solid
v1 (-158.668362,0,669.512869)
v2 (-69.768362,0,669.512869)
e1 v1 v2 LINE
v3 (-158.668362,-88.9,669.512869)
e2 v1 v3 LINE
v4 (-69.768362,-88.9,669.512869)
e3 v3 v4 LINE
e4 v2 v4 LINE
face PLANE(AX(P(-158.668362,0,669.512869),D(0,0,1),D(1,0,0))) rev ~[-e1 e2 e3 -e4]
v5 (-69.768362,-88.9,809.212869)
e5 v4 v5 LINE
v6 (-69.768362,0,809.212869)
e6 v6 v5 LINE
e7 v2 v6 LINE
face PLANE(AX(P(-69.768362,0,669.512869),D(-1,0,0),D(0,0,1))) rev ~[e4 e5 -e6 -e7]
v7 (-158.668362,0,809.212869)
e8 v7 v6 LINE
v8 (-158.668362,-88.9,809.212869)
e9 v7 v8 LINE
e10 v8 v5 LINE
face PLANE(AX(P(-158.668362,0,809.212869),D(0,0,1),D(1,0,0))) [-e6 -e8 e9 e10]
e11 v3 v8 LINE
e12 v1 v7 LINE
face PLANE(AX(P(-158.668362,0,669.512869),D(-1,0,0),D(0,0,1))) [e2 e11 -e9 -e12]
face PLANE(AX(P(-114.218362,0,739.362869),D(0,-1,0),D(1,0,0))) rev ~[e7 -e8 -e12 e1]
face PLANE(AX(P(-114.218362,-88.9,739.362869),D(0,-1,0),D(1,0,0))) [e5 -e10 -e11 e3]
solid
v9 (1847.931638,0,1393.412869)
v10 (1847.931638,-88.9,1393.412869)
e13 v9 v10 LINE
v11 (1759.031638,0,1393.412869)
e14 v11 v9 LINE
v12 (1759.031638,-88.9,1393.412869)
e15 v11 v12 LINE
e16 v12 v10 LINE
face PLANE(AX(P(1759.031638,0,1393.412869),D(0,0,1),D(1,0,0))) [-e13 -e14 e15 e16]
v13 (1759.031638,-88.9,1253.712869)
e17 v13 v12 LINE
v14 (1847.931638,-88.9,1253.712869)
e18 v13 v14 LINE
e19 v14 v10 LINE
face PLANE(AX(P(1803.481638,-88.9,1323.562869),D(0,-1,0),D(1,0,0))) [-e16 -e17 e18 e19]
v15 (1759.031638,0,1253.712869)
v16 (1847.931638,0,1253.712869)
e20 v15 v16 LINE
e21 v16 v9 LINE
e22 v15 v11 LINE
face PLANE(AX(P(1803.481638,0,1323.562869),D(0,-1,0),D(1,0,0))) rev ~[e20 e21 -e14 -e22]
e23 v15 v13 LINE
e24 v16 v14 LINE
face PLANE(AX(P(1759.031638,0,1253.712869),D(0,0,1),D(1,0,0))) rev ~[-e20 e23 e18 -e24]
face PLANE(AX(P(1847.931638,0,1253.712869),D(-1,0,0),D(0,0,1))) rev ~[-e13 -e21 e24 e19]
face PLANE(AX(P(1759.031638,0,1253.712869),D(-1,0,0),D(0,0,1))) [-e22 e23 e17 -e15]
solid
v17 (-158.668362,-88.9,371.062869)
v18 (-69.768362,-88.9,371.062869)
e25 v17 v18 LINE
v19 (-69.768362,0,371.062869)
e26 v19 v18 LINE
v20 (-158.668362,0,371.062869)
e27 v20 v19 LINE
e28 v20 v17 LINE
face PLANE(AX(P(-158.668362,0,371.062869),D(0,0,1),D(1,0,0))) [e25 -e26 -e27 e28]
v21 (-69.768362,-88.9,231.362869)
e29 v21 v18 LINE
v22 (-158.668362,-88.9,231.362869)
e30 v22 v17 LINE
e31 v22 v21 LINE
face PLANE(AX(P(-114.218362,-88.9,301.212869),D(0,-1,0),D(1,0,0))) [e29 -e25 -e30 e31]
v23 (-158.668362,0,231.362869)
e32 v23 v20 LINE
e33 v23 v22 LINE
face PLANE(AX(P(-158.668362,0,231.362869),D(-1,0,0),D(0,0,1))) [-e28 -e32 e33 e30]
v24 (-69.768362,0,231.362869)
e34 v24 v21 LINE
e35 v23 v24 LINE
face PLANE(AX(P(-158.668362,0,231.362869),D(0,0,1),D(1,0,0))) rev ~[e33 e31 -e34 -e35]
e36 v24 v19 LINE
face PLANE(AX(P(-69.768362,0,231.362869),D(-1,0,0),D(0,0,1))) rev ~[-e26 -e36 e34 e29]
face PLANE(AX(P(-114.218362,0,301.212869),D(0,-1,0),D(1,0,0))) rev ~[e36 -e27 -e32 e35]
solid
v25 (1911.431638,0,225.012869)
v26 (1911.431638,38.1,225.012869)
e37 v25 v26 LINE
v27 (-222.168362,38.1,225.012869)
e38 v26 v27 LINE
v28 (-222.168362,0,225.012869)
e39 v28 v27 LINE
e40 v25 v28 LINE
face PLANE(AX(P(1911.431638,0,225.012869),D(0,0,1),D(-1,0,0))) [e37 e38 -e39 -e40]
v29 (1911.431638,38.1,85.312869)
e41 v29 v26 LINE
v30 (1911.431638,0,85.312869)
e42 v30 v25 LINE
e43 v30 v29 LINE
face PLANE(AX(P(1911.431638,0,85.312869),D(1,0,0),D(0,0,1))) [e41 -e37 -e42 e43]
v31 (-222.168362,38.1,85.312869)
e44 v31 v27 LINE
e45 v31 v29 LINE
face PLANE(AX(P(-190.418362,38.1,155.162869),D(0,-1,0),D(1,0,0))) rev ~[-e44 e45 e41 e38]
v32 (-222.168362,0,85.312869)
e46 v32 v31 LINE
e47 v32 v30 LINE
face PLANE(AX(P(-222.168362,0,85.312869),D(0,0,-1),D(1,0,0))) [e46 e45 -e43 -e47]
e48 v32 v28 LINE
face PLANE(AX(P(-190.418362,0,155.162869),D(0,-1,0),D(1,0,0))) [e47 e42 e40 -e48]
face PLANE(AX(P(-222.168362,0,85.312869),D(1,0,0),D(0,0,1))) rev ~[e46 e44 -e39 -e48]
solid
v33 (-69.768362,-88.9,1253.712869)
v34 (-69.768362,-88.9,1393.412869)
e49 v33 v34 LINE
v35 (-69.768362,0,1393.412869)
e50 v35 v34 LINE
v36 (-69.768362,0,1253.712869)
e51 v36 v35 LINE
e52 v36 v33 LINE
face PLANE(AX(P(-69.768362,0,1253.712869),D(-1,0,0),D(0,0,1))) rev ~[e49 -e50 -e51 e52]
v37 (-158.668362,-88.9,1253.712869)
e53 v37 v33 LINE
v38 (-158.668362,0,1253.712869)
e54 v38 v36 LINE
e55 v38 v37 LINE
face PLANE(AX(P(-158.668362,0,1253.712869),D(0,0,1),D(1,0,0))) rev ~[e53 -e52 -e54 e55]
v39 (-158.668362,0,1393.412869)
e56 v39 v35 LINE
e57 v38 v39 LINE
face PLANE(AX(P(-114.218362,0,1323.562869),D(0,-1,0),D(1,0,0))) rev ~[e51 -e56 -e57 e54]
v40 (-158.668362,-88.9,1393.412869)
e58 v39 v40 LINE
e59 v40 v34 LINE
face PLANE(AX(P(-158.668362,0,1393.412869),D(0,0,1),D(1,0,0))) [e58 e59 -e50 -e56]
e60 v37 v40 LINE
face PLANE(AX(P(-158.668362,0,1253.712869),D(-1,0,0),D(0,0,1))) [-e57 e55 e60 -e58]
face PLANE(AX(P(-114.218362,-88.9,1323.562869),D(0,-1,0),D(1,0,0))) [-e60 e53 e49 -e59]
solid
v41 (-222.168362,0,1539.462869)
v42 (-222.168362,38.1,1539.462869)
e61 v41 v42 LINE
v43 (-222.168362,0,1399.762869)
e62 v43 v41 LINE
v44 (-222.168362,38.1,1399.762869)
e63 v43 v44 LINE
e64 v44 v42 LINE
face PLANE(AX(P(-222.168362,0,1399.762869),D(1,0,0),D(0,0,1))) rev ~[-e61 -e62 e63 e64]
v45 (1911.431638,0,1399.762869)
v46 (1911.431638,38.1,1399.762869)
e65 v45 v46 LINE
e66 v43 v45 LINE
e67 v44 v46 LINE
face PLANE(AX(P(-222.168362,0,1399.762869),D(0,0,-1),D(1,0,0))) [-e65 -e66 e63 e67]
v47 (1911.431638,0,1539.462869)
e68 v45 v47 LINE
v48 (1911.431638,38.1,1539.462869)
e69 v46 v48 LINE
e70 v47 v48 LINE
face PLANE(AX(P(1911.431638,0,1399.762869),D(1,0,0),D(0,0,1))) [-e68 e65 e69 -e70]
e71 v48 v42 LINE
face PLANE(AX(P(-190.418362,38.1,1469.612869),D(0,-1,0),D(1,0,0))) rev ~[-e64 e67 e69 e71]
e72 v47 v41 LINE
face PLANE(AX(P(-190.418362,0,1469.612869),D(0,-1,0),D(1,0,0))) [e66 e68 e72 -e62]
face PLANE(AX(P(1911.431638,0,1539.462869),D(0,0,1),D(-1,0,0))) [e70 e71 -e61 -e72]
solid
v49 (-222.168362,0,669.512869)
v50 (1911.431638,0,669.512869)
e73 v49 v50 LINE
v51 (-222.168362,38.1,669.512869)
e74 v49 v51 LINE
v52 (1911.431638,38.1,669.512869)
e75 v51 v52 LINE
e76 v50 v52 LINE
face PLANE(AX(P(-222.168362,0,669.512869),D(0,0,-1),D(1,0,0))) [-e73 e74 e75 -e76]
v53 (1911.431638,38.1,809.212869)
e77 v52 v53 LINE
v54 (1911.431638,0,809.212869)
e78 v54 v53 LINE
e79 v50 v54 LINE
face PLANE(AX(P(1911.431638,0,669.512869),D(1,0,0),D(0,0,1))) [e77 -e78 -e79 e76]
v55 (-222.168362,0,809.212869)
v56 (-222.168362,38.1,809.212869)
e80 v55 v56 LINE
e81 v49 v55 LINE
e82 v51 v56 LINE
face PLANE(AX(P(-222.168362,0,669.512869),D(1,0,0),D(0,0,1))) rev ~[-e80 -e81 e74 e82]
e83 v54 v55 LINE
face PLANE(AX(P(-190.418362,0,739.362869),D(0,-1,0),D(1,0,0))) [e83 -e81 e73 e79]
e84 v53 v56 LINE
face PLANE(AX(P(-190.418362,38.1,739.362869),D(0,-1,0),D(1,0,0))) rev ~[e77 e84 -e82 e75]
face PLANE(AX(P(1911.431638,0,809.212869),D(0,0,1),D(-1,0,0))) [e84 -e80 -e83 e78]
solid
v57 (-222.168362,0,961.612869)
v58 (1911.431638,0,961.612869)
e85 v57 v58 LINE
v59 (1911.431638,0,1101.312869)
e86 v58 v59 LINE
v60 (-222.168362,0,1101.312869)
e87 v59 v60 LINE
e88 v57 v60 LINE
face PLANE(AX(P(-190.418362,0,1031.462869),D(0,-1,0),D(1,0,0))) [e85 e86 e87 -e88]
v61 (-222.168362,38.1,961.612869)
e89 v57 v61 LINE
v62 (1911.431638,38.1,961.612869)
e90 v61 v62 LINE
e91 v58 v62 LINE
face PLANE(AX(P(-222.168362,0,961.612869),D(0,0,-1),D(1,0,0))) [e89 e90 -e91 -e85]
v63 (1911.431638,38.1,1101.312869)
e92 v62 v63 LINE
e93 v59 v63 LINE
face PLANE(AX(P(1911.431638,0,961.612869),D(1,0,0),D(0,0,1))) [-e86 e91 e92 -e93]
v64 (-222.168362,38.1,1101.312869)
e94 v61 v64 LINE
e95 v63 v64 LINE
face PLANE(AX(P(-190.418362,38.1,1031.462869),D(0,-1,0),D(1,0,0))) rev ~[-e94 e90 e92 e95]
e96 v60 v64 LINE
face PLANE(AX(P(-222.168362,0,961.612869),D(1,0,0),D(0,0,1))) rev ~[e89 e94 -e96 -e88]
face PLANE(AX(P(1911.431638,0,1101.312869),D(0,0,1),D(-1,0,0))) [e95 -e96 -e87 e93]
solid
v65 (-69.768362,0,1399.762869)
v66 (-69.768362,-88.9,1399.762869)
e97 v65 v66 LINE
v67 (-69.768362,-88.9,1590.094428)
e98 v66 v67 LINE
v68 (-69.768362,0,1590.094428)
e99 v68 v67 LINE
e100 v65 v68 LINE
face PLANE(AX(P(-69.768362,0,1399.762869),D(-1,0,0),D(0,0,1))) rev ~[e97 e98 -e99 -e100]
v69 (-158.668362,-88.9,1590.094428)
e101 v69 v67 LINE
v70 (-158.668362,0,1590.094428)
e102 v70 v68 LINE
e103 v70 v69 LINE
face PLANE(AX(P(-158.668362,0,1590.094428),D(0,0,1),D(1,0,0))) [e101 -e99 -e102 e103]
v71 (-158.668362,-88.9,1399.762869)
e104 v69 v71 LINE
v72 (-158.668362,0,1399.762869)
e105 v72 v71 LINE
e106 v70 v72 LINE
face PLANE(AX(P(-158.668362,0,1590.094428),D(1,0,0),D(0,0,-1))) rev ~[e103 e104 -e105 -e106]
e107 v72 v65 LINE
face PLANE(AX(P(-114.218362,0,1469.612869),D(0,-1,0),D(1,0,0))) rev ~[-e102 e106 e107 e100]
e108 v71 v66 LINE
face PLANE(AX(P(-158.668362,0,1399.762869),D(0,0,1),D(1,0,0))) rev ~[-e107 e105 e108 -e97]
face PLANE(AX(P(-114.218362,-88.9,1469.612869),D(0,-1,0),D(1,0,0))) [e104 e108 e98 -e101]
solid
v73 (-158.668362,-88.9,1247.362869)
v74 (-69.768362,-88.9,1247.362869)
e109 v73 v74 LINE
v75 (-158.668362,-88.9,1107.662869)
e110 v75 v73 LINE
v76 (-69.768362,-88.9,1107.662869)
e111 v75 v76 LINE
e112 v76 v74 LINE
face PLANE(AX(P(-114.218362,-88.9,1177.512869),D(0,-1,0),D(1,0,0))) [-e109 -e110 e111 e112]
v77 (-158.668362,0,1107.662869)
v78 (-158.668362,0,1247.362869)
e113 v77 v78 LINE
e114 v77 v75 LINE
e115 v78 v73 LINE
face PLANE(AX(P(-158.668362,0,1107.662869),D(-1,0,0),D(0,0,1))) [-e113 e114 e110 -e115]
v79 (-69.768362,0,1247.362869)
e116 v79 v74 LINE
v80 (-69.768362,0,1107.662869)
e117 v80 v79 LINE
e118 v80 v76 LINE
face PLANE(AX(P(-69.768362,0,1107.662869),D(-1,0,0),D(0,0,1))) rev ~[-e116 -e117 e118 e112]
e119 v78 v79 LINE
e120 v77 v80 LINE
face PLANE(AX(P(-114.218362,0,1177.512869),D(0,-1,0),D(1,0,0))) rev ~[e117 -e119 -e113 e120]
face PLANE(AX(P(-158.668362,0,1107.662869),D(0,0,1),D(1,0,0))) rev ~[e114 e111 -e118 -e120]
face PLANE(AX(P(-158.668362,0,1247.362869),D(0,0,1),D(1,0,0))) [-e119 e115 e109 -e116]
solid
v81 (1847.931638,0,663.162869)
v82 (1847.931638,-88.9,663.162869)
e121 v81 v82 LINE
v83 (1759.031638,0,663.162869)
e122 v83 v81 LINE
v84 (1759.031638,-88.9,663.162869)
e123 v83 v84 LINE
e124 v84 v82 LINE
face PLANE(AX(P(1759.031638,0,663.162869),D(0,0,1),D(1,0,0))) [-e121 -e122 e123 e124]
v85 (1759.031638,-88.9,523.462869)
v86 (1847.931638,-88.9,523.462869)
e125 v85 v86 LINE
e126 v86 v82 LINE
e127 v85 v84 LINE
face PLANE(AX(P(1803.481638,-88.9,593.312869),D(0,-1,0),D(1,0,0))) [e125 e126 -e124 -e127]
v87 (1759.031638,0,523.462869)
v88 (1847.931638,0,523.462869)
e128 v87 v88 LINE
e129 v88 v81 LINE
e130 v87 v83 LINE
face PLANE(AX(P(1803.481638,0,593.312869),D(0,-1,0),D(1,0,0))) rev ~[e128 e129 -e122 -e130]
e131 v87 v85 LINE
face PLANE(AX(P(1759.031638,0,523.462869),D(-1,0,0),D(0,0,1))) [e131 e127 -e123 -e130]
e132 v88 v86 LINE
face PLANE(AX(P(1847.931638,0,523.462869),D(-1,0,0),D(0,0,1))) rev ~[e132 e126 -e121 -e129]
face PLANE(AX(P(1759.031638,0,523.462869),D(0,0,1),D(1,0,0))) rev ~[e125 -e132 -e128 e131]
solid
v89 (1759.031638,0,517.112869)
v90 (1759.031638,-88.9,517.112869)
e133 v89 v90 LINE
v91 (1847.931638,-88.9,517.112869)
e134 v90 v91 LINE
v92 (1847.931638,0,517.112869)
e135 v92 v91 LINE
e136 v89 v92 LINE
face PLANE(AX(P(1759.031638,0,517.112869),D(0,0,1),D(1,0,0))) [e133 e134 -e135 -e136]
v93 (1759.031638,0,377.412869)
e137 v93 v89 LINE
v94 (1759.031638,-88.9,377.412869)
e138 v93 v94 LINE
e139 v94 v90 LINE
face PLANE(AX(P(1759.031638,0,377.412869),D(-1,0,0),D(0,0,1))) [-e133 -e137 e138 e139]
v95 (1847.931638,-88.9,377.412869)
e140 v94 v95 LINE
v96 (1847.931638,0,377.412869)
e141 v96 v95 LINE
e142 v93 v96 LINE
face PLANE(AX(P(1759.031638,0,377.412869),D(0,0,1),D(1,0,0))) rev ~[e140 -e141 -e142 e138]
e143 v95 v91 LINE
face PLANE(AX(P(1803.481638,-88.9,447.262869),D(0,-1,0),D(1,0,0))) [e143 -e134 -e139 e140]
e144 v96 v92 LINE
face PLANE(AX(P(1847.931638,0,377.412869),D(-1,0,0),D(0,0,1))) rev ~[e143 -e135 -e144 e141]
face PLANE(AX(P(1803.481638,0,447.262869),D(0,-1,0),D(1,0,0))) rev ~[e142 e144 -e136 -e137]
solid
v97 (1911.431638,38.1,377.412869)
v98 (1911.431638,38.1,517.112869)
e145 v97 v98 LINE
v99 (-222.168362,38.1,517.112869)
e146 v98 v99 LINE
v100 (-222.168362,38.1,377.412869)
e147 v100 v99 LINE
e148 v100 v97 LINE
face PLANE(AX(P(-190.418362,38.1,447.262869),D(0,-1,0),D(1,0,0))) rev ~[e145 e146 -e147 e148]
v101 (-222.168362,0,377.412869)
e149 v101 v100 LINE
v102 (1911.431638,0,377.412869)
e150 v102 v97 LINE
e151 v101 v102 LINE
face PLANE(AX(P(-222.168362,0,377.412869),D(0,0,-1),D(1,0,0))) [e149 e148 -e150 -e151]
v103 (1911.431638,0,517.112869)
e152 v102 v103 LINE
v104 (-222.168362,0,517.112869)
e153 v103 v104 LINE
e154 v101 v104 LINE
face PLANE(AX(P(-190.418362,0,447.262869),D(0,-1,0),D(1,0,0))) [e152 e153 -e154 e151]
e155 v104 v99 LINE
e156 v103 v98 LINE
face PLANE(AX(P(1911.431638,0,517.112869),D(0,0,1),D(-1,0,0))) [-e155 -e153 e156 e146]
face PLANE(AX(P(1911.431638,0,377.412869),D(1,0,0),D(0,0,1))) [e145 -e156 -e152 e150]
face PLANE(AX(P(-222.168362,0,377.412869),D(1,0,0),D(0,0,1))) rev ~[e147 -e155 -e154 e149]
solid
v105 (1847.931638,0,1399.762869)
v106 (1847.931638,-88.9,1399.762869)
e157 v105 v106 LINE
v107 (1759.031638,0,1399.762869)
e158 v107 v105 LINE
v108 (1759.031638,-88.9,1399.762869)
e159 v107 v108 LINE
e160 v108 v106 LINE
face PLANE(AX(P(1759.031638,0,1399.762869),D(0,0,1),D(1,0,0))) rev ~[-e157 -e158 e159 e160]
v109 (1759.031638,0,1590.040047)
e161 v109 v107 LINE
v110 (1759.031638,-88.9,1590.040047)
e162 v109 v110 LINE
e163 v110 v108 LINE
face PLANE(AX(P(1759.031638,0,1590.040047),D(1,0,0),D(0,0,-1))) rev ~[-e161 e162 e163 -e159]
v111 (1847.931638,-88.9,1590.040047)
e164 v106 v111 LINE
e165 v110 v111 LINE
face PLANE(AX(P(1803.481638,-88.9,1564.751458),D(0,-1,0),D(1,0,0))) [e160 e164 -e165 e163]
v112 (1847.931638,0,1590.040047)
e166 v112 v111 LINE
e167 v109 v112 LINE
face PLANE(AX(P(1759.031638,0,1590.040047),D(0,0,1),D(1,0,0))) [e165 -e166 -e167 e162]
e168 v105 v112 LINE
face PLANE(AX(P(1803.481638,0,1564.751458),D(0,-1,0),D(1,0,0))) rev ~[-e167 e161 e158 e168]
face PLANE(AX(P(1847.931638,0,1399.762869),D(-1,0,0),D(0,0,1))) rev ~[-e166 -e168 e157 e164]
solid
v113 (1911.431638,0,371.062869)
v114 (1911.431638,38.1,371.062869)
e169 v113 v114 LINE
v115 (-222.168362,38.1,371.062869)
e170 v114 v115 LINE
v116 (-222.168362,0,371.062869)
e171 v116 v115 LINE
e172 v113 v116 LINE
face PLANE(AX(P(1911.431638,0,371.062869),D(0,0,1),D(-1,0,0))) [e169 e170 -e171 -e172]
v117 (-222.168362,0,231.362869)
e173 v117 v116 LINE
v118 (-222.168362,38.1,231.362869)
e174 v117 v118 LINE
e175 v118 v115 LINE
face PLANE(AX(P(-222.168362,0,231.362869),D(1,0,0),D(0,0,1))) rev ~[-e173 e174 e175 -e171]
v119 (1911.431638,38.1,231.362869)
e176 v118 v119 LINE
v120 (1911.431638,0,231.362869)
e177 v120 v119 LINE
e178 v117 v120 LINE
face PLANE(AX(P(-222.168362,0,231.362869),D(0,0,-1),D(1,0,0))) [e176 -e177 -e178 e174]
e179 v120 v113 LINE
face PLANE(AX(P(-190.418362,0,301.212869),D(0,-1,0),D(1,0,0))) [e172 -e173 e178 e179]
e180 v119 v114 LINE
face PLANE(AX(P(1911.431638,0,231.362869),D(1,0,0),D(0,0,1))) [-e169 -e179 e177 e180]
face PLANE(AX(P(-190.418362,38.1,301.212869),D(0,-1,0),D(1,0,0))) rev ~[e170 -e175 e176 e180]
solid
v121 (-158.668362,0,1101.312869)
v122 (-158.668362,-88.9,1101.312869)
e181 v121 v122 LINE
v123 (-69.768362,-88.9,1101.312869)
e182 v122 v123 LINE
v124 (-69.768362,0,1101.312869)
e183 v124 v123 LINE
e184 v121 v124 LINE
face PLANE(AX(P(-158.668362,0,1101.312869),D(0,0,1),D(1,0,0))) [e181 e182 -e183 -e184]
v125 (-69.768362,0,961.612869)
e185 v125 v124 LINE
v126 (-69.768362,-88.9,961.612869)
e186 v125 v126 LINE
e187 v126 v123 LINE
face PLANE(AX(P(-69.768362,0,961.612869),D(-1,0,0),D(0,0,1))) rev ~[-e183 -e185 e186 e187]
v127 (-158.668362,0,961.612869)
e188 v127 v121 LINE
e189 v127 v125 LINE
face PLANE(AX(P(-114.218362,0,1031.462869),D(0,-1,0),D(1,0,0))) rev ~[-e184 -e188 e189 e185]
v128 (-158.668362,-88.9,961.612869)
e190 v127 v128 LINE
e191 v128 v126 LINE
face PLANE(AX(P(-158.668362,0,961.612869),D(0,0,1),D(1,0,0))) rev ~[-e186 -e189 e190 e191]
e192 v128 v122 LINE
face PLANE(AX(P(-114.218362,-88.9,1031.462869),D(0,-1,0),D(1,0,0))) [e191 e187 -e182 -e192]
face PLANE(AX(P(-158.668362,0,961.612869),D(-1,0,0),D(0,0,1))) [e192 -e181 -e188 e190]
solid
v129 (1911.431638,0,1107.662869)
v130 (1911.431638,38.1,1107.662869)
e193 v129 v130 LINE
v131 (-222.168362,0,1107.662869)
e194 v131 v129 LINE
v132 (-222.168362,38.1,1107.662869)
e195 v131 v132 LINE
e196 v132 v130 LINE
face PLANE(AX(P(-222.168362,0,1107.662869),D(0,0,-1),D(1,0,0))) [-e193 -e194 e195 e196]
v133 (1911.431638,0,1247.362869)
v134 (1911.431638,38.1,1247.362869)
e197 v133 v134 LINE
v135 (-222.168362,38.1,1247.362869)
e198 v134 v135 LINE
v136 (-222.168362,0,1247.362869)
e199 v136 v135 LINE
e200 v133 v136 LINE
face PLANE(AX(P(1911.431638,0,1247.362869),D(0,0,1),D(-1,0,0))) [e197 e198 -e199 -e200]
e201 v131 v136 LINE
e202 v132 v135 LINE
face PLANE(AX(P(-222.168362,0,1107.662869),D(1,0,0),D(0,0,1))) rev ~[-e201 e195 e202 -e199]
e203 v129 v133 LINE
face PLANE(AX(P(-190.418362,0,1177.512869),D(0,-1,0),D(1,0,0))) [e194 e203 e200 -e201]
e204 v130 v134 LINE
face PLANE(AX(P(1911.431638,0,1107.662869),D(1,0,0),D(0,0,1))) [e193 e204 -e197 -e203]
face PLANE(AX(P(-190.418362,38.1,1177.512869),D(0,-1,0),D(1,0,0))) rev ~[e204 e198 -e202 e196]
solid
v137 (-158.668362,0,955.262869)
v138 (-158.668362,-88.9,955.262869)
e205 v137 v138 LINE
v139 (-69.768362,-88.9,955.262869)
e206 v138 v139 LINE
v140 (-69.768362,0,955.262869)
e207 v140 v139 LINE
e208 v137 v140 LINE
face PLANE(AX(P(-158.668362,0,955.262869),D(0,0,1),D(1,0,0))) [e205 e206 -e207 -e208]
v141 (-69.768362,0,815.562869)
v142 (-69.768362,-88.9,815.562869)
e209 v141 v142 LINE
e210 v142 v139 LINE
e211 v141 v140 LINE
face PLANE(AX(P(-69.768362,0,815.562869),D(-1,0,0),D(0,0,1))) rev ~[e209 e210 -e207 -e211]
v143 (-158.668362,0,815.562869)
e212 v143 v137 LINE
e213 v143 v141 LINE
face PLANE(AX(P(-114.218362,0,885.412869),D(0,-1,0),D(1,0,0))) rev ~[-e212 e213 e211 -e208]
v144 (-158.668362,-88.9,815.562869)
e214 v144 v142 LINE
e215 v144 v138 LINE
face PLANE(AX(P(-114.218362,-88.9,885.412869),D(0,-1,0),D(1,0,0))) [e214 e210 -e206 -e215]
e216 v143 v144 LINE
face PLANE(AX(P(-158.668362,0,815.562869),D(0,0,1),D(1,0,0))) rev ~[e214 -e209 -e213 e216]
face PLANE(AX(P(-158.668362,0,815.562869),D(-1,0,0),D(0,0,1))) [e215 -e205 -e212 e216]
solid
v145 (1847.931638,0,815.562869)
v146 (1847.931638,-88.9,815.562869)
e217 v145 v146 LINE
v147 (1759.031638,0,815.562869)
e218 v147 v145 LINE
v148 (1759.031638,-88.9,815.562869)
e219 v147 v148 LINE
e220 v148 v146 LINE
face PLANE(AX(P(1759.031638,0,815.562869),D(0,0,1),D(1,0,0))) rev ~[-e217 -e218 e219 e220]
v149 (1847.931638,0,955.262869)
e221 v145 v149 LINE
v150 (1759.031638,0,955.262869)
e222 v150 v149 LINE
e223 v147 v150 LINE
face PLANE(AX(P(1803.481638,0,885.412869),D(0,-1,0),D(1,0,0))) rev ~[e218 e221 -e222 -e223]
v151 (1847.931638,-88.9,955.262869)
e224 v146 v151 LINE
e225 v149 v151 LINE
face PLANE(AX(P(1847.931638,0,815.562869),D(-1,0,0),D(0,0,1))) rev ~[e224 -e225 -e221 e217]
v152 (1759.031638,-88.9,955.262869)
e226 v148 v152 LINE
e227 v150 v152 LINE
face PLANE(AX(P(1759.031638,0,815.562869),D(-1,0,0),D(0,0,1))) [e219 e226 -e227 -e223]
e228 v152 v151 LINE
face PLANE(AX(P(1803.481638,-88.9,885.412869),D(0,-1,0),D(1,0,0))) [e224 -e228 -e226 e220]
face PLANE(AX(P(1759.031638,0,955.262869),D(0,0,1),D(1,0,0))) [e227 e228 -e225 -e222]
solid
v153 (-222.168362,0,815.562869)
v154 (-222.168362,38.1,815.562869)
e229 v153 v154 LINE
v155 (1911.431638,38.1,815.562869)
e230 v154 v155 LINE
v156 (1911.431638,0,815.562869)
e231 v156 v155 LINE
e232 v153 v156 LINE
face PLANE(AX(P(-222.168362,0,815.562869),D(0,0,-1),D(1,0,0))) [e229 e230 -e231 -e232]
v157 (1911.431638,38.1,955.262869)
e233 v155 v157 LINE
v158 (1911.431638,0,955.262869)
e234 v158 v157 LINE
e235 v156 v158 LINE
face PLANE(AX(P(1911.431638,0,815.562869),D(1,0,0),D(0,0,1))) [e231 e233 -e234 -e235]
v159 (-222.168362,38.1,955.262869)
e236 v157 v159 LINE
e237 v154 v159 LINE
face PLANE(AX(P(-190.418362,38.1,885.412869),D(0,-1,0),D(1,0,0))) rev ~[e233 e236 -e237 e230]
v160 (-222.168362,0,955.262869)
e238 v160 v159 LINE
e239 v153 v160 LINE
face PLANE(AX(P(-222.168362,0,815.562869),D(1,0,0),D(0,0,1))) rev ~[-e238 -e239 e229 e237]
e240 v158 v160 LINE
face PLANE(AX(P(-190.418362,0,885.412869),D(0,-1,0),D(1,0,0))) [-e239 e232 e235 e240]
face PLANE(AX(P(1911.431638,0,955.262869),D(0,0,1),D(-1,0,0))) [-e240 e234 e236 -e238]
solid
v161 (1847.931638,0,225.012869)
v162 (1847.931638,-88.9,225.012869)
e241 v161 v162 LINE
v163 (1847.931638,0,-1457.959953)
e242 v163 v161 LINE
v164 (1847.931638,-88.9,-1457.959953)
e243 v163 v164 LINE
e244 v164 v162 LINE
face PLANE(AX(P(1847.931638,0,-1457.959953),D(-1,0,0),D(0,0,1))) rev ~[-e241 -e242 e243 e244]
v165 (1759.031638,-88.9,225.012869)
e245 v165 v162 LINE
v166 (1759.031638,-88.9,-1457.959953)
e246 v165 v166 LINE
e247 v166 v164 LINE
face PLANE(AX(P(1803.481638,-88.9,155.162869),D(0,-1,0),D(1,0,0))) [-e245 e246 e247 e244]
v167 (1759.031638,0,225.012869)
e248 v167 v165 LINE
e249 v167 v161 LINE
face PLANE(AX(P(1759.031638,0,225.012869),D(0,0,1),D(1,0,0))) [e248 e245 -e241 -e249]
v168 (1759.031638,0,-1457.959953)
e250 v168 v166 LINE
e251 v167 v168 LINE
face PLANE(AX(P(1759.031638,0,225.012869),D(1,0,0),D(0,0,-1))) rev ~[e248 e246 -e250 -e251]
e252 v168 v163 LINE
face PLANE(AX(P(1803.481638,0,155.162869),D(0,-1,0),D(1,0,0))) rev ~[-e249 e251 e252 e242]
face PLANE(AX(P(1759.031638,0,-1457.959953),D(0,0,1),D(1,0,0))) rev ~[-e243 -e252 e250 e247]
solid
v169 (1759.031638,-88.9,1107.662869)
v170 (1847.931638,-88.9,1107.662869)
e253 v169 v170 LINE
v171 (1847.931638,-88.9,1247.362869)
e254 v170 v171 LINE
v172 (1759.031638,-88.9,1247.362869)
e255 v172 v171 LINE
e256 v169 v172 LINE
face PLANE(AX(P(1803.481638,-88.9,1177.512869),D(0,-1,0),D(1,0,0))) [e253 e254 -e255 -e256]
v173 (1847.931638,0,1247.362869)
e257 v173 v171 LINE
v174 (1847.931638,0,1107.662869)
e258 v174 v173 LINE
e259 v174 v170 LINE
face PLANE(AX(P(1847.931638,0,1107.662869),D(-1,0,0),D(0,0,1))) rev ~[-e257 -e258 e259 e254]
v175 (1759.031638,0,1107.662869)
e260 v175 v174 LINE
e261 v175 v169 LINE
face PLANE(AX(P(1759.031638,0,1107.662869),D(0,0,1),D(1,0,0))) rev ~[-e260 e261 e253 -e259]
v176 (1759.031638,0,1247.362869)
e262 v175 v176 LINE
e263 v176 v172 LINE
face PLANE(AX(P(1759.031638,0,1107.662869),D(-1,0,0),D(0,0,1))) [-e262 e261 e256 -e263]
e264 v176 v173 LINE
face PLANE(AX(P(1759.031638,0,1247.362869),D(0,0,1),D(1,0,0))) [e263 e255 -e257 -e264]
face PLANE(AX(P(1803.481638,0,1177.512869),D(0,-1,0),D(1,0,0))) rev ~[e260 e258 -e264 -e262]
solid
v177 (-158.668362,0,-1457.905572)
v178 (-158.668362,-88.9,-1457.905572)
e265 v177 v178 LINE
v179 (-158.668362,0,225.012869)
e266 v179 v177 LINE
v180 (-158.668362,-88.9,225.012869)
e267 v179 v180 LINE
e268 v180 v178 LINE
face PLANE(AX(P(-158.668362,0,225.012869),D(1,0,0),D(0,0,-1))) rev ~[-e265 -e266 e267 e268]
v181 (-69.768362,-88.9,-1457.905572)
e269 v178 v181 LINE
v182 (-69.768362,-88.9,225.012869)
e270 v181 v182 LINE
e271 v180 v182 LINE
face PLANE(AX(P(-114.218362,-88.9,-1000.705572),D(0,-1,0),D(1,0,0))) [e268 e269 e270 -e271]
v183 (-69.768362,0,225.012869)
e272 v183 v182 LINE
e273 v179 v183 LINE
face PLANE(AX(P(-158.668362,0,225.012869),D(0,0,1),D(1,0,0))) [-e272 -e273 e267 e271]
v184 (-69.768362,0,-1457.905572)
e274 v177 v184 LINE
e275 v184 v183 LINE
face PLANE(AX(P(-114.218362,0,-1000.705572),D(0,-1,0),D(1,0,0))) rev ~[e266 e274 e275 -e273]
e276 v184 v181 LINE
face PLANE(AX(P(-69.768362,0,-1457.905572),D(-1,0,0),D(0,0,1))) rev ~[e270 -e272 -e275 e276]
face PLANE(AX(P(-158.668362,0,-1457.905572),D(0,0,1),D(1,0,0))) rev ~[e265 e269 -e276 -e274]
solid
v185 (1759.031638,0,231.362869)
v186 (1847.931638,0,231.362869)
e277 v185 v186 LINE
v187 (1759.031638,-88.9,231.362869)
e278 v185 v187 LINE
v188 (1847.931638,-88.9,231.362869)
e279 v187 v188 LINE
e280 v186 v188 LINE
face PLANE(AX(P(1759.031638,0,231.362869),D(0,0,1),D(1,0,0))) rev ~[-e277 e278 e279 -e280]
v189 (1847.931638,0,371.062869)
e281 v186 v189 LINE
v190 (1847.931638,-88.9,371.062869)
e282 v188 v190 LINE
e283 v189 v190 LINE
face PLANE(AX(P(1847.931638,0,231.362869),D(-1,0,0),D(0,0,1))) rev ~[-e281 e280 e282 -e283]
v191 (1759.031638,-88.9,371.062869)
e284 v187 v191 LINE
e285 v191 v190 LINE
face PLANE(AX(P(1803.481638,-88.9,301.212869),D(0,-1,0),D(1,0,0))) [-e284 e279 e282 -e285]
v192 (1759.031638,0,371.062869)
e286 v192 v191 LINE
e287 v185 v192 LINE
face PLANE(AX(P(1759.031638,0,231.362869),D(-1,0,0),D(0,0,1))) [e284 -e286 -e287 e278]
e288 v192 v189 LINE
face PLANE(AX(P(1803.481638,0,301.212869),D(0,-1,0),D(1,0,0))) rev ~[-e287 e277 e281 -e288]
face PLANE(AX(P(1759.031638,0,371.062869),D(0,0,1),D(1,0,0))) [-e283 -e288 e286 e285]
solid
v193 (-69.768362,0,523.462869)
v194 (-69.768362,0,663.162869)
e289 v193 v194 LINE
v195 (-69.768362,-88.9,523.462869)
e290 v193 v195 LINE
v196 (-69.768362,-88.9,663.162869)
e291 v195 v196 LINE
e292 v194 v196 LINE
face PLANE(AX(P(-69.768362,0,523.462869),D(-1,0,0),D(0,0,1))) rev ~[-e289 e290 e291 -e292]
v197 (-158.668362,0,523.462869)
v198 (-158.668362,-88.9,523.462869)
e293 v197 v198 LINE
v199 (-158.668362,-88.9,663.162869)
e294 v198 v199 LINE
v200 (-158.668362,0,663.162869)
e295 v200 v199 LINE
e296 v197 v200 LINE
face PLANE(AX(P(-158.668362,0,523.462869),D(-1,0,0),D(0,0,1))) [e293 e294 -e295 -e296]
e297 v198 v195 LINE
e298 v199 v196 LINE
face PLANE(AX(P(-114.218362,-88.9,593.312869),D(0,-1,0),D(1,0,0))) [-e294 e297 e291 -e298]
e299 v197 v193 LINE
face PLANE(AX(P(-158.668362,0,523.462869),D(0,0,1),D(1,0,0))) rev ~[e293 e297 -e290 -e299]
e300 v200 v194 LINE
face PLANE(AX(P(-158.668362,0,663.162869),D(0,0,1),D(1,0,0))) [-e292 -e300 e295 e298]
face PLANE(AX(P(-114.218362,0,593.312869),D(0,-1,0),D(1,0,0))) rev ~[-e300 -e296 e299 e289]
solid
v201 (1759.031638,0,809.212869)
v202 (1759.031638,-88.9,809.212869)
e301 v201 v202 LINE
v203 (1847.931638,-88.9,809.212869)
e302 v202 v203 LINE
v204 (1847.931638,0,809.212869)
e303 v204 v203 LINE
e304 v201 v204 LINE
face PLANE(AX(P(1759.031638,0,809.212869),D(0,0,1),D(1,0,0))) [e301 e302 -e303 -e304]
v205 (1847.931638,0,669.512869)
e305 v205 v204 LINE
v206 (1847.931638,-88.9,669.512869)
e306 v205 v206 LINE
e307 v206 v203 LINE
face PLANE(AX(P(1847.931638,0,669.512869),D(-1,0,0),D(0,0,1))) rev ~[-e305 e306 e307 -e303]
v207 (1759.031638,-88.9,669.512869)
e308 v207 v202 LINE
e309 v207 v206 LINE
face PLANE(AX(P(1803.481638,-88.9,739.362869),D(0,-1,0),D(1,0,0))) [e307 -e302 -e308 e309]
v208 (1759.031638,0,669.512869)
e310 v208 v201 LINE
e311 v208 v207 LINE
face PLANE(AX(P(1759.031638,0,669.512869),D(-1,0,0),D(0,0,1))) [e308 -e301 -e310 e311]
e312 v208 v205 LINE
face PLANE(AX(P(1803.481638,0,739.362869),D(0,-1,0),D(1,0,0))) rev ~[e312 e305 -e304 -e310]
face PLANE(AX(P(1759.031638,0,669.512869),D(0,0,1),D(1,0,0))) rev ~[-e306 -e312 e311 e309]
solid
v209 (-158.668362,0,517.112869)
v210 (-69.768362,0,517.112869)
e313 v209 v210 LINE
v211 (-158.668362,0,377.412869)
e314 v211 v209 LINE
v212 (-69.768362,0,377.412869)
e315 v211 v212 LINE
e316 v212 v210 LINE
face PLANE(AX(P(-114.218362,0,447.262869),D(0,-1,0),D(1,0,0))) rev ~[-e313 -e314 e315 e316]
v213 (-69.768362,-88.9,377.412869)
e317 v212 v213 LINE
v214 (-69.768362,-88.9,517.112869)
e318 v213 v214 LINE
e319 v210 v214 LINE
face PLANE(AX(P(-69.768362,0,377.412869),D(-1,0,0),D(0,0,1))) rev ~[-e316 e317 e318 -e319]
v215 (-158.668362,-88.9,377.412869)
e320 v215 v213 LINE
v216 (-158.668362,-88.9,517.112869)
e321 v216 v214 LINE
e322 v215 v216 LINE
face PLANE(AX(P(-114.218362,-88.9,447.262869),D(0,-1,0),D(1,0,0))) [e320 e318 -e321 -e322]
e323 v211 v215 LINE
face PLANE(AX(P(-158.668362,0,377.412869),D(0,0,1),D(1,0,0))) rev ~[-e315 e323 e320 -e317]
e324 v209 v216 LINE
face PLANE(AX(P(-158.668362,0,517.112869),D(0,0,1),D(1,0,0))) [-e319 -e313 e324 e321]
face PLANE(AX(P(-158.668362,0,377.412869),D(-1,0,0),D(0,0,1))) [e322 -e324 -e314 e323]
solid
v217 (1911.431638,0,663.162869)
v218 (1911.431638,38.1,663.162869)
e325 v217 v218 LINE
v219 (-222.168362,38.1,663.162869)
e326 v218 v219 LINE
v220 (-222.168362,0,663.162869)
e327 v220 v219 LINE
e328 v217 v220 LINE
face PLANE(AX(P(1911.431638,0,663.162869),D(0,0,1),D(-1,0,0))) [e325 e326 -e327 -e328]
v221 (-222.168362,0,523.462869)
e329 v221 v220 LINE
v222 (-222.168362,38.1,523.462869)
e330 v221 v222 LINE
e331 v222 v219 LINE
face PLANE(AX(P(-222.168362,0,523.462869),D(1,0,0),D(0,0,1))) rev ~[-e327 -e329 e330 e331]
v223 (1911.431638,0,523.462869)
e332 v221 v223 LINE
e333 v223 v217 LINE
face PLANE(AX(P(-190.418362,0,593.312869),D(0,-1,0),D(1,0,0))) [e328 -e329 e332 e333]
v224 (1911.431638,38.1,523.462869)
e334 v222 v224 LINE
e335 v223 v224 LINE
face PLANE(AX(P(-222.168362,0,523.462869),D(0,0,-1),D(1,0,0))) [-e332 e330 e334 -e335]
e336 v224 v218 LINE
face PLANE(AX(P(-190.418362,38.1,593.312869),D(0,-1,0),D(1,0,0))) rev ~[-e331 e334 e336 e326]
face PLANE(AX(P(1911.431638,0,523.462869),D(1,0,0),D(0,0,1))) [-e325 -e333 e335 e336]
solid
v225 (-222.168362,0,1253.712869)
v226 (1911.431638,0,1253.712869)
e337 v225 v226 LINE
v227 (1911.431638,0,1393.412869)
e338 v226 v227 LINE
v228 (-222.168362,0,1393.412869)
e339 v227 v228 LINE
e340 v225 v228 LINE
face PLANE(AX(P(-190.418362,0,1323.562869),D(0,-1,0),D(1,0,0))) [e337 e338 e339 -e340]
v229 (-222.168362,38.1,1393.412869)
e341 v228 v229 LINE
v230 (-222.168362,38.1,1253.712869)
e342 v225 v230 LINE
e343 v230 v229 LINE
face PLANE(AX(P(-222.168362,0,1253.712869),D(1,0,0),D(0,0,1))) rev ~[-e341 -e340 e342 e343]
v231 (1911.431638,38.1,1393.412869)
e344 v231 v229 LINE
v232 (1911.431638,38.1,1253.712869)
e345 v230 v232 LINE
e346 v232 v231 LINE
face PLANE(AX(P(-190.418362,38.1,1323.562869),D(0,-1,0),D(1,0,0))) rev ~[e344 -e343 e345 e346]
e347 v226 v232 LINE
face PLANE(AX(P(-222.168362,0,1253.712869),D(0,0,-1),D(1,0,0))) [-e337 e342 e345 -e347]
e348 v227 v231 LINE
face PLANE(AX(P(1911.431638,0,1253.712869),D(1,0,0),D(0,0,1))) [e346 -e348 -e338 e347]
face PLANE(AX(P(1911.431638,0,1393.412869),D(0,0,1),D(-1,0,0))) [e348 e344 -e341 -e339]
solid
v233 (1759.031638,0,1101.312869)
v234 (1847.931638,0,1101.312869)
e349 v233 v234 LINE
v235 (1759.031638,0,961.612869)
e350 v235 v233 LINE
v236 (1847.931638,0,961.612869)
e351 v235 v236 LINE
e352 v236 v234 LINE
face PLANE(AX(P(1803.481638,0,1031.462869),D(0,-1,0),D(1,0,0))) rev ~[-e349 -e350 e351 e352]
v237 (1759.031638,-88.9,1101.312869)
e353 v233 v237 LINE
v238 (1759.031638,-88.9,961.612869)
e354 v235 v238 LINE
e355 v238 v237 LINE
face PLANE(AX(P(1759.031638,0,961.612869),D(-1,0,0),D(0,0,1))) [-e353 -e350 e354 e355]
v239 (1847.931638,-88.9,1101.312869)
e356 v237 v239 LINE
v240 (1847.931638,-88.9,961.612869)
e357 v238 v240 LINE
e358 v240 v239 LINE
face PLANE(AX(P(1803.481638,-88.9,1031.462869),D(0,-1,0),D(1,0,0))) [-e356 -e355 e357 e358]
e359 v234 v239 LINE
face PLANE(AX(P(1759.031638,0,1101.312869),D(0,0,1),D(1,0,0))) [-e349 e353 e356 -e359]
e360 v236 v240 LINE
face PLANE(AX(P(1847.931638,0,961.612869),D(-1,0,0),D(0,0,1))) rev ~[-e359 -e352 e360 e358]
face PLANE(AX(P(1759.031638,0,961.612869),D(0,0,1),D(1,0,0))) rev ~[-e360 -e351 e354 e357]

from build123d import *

# Parameters (mm, degrees)
F0_W     = 88.9
F0_H     = 914.4
F0_H_2   = 628.8184409082
F0_H_3   = 139.7
F1_DEPTH = 88.9
F0_H_4   = 50.6315590918
F0_H_5   = 50.5771776319
F0_H_6   = 914.45438146
F0_W_2   = 63.5
F0_W_3   = 1828.8
F2_DEPTH = 38.1


with BuildPart() as f1:
    # F0 (on Front) → F1 (new body)
    with BuildSketch(Plane.XZ):
        with Locations((-114.2183623821, -1000.705572027)):
            Rectangle(F0_W, F0_H)
        with Locations((-114.2183623821, -229.0963515729)):
            Rectangle(F0_W, F0_H_2)
        with Locations((-114.2183623821, 155.1628688812)):
            Rectangle(F0_W, F0_H_3)
    extrude(amount=F1_DEPTH)


with BuildPart() as f1b:
    # F0 (on Front) → F1, piece 2 (new body)
    with BuildSketch(Plane.XZ):
        with Locations((-114.2183623821, 301.2128688812)):
            Rectangle(F0_W, F0_H_3)
    extrude(amount=F1_DEPTH)


with BuildPart() as f1c:
    # F0 (on Front) → F1, piece 3 (new body)
    with BuildSketch(Plane.XZ):
        with Locations((-114.2183623821, 447.2628688812)):
            Rectangle(F0_W, F0_H_3)
    extrude(amount=F1_DEPTH)


with BuildPart() as f1d:
    # F0 (on Front) → F1, piece 4 (new body)
    with BuildSketch(Plane.XZ):
        with Locations((-114.2183623821, 593.3128688812)):
            Rectangle(F0_W, F0_H_3)
    extrude(amount=F1_DEPTH)


with BuildPart() as f1e:
    # F0 (on Front) → F1, piece 5 (new body)
    with BuildSketch(Plane.XZ):
        with Locations((-114.2183623821, 739.3628688812)):
            Rectangle(F0_W, F0_H_3)
    extrude(amount=F1_DEPTH)


with BuildPart() as f1f:
    # F0 (on Front) → F1, piece 6 (new body)
    with BuildSketch(Plane.XZ):
        with Locations((-114.2183623821, 885.4128688812)):
            Rectangle(F0_W, F0_H_3)
    extrude(amount=F1_DEPTH)


with BuildPart() as f1g:
    # F0 (on Front) → F1, piece 7 (new body)
    with BuildSketch(Plane.XZ):
        with Locations((-114.2183623821, 1031.4628688812)):
            Rectangle(F0_W, F0_H_3)
    extrude(amount=F1_DEPTH)


with BuildPart() as f1h:
    # F0 (on Front) → F1, piece 8 (new body)
    with BuildSketch(Plane.XZ):
        with Locations((-114.2183623821, 1177.5128688812)):
            Rectangle(F0_W, F0_H_3)
    extrude(amount=F1_DEPTH)


with BuildPart() as f1i:
    # F0 (on Front) → F1, piece 9 (new body)
    with BuildSketch(Plane.XZ):
        with Locations((-114.2183623821, 1323.5628688812)):
            Rectangle(F0_W, F0_H_3)
    extrude(amount=F1_DEPTH)


with BuildPart() as f1j:
    # F0 (on Front) → F1, piece 10 (new body)
    with BuildSketch(Plane.XZ):
        with Locations((-114.2183623821, 1469.6128688812)):
            Rectangle(F0_W, F0_H_3)
        with Locations((-114.2183623821, 1564.7786484271)):
            Rectangle(F0_W, F0_H_4)
    extrude(amount=F1_DEPTH)


with BuildPart() as f1k:
    # F0 (on Front) → F1, piece 11 (new body)
    with BuildSketch(Plane.XZ):
        with Locations((1803.4816376179, 1564.7514576972)):
            Rectangle(F0_W, F0_H_5)
        with Locations((1803.4816376179, 1469.6128688812)):
            Rectangle(F0_W, F0_H_3)
    extrude(amount=F1_DEPTH)


with BuildPart() as f1l:
    # F0 (on Front) → F1, piece 12 (new body)
    with BuildSketch(Plane.XZ):
        with Locations((1803.4816376179, 1323.5628688812)):
            Rectangle(F0_W, F0_H_3)
    extrude(amount=F1_DEPTH)


with BuildPart() as f1m:
    # F0 (on Front) → F1, piece 13 (new body)
    with BuildSketch(Plane.XZ):
        with Locations((1803.4816376179, 1177.5128688812)):
            Rectangle(F0_W, F0_H_3)
    extrude(amount=F1_DEPTH)


with BuildPart() as f1n:
    # F0 (on Front) → F1, piece 14 (new body)
    with BuildSketch(Plane.XZ):
        with Locations((1803.4816376179, 1031.4628688812)):
            Rectangle(F0_W, F0_H_3)
    extrude(amount=F1_DEPTH)


with BuildPart() as f1o:
    # F0 (on Front) → F1, piece 15 (new body)
    with BuildSketch(Plane.XZ):
        with Locations((1803.4816376179, 885.4128688812)):
            Rectangle(F0_W, F0_H_3)
    extrude(amount=F1_DEPTH)


with BuildPart() as f1p:
    # F0 (on Front) → F1, piece 16 (new body)
    with BuildSketch(Plane.XZ):
        with Locations((1803.4816376179, 739.3628688812)):
            Rectangle(F0_W, F0_H_3)
    extrude(amount=F1_DEPTH)


with BuildPart() as f1q:
    # F0 (on Front) → F1, piece 17 (new body)
    with BuildSketch(Plane.XZ):
        with Locations((1803.4816376179, 593.3128688812)):
            Rectangle(F0_W, F0_H_3)
    extrude(amount=F1_DEPTH)


with BuildPart() as f1r:
    # F0 (on Front) → F1, piece 18 (new body)
    with BuildSketch(Plane.XZ):
        with Locations((1803.4816376179, 447.2628688812)):
            Rectangle(F0_W, F0_H_3)
    extrude(amount=F1_DEPTH)


with BuildPart() as f1s:
    # F0 (on Front) → F1, piece 19 (new body)
    with BuildSketch(Plane.XZ):
        with Locations((1803.4816376179, 301.2128688812)):
            Rectangle(F0_W, F0_H_3)
    extrude(amount=F1_DEPTH)


with BuildPart() as f1t:
    # F0 (on Front) → F1, piece 20 (new body)
    with BuildSketch(Plane.XZ):
        with Locations((1803.4816376179, 155.1628688812)):
            Rectangle(F0_W, F0_H_3)
        with Locations((1803.4816376179, -229.0963515729)):
            Rectangle(F0_W, F0_H_2)
        with Locations((1803.4816376179, -1000.7327627569)):
            Rectangle(F0_W, F0_H_6)
    extrude(amount=F1_DEPTH)


with BuildPart() as f2:
    # F0 (on Front) → F2 (new body)
    with BuildSketch(Plane.XZ):
        with Locations((-190.4183623821, 1469.6128688812)):
            Rectangle(F0_W_2, F0_H_3)
        with Locations((844.6316376179, 1469.6128688812)):
            Rectangle(F0_W_3, F0_H_3)
        with Locations((-114.2183623821, 1469.6128688812)):
            Rectangle(F0_W, F0_H_3)
        with Locations((1803.4816376179, 1469.6128688812)):
            Rectangle(F0_W, F0_H_3)
        with Locations((1879.6816376179, 1469.6128688812)):
            Rectangle(F0_W_2, F0_H_3)
    extrude(amount=-F2_DEPTH)


with BuildPart() as f2b:
    # F0 (on Front) → F2, piece 2 (new body)
    with BuildSketch(Plane.XZ):
        with Locations((-190.4183623821, 1323.5628688812)):
            Rectangle(F0_W_2, F0_H_3)
        with Locations((-114.2183623821, 1323.5628688812)):
            Rectangle(F0_W, F0_H_3)
        with Locations((844.6316376179, 1323.5628688812)):
            Rectangle(F0_W_3, F0_H_3)
        with Locations((1803.4816376179, 1323.5628688812)):
            Rectangle(F0_W, F0_H_3)
        with Locations((1879.6816376179, 1323.5628688812)):
            Rectangle(F0_W_2, F0_H_3)
    extrude(amount=-F2_DEPTH)


with BuildPart() as f2c:
    # F0 (on Front) → F2, piece 3 (new body)
    with BuildSketch(Plane.XZ):
        with Locations((-190.4183623821, 1177.5128688812)):
            Rectangle(F0_W_2, F0_H_3)
        with Locations((-114.2183623821, 1177.5128688812)):
            Rectangle(F0_W, F0_H_3)
        with Locations((844.6316376179, 1177.5128688812)):
            Rectangle(F0_W_3, F0_H_3)
        with Locations((1803.4816376179, 1177.5128688812)):
            Rectangle(F0_W, F0_H_3)
        with Locations((1879.6816376179, 1177.5128688812)):
            Rectangle(F0_W_2, F0_H_3)
    extrude(amount=-F2_DEPTH)


with BuildPart() as f2d:
    # F0 (on Front) → F2, piece 4 (new body)
    with BuildSketch(Plane.XZ):
        with Locations((-190.4183623821, 1031.4628688812)):
            Rectangle(F0_W_2, F0_H_3)
        with Locations((-114.2183623821, 1031.4628688812)):
            Rectangle(F0_W, F0_H_3)
        with Locations((844.6316376179, 1031.4628688812)):
            Rectangle(F0_W_3, F0_H_3)
        with Locations((1803.4816376179, 1031.4628688812)):
            Rectangle(F0_W, F0_H_3)
        with Locations((1879.6816376179, 1031.4628688812)):
            Rectangle(F0_W_2, F0_H_3)
    extrude(amount=-F2_DEPTH)


with BuildPart() as f2e:
    # F0 (on Front) → F2, piece 5 (new body)
    with BuildSketch(Plane.XZ):
        with Locations((-190.4183623821, 885.4128688812)):
            Rectangle(F0_W_2, F0_H_3)
        with Locations((-114.2183623821, 885.4128688812)):
            Rectangle(F0_W, F0_H_3)
        with Locations((844.6316376179, 885.4128688812)):
            Rectangle(F0_W_3, F0_H_3)
        with Locations((1803.4816376179, 885.4128688812)):
            Rectangle(F0_W, F0_H_3)
        with Locations((1879.6816376179, 885.4128688812)):
            Rectangle(F0_W_2, F0_H_3)
    extrude(amount=-F2_DEPTH)


with BuildPart() as f2f:
    # F0 (on Front) → F2, piece 6 (new body)
    with BuildSketch(Plane.XZ):
        with Locations((-190.4183623821, 739.3628688812)):
            Rectangle(F0_W_2, F0_H_3)
        with Locations((-114.2183623821, 739.3628688812)):
            Rectangle(F0_W, F0_H_3)
        with Locations((844.6316376179, 739.3628688812)):
            Rectangle(F0_W_3, F0_H_3)
        with Locations((1803.4816376179, 739.3628688812)):
            Rectangle(F0_W, F0_H_3)
        with Locations((1879.6816376179, 739.3628688812)):
            Rectangle(F0_W_2, F0_H_3)
    extrude(amount=-F2_DEPTH)


with BuildPart() as f2g:
    # F0 (on Front) → F2, piece 7 (new body)
    with BuildSketch(Plane.XZ):
        with Locations((-190.4183623821, 593.3128688812)):
            Rectangle(F0_W_2, F0_H_3)
        with Locations((844.6316376179, 593.3128688812)):
            Rectangle(F0_W_3, F0_H_3)
        with Locations((-114.2183623821, 593.3128688812)):
            Rectangle(F0_W, F0_H_3)
        with Locations((1803.4816376179, 593.3128688812)):
            Rectangle(F0_W, F0_H_3)
        with Locations((1879.6816376179, 593.3128688812)):
            Rectangle(F0_W_2, F0_H_3)
    extrude(amount=-F2_DEPTH)


with BuildPart() as f2h:
    # F0 (on Front) → F2, piece 8 (new body)
    with BuildSketch(Plane.XZ):
        with Locations((-190.4183623821, 447.2628688812)):
            Rectangle(F0_W_2, F0_H_3)
        with Locations((-114.2183623821, 447.2628688812)):
            Rectangle(F0_W, F0_H_3)
        with Locations((844.6316376179, 447.2628688812)):
            Rectangle(F0_W_3, F0_H_3)
        with Locations((1803.4816376179, 447.2628688812)):
            Rectangle(F0_W, F0_H_3)
        with Locations((1879.6816376179, 447.2628688812)):
            Rectangle(F0_W_2, F0_H_3)
    extrude(amount=-F2_DEPTH)


with BuildPart() as f2i:
    # F0 (on Front) → F2, piece 9 (new body)
    with BuildSketch(Plane.XZ):
        with Locations((-190.4183623821, 301.2128688812)):
            Rectangle(F0_W_2, F0_H_3)
        with Locations((-114.2183623821, 301.2128688812)):
            Rectangle(F0_W, F0_H_3)
        with Locations((844.6316376179, 301.2128688812)):
            Rectangle(F0_W_3, F0_H_3)
        with Locations((1803.4816376179, 301.2128688812)):
            Rectangle(F0_W, F0_H_3)
        with Locations((1879.6816376179, 301.2128688812)):
            Rectangle(F0_W_2, F0_H_3)
    extrude(amount=-F2_DEPTH)


with BuildPart() as f2j:
    # F0 (on Front) → F2, piece 10 (new body)
    with BuildSketch(Plane.XZ):
        with Locations((-190.4183623821, 155.1628688812)):
            Rectangle(F0_W_2, F0_H_3)
        with Locations((-114.2183623821, 155.1628688812)):
            Rectangle(F0_W, F0_H_3)
        with Locations((844.6316376179, 155.1628688812)):
            Rectangle(F0_W_3, F0_H_3)
        with Locations((1803.4816376179, 155.1628688812)):
            Rectangle(F0_W, F0_H_3)
        with Locations((1879.6816376179, 155.1628688812)):
            Rectangle(F0_W_2, F0_H_3)
    extrude(amount=-F2_DEPTH)


solid = Compound([f1.part, f1b.part, f1c.part, f1d.part, f1e.part, f1f.part, f1g.part, f1h.part, f1i.part, f1j.part, f1k.part, f1l.part, f1m.part, f1n.part, f1o.part, f1p.part, f1q.part, f1r.part, f1s.part, f1t.part, f2.part, f2b.part, f2c.part, f2d.part, f2e.part, f2f.part, f2g.part, f2h.part, f2i.part, f2j.part])
